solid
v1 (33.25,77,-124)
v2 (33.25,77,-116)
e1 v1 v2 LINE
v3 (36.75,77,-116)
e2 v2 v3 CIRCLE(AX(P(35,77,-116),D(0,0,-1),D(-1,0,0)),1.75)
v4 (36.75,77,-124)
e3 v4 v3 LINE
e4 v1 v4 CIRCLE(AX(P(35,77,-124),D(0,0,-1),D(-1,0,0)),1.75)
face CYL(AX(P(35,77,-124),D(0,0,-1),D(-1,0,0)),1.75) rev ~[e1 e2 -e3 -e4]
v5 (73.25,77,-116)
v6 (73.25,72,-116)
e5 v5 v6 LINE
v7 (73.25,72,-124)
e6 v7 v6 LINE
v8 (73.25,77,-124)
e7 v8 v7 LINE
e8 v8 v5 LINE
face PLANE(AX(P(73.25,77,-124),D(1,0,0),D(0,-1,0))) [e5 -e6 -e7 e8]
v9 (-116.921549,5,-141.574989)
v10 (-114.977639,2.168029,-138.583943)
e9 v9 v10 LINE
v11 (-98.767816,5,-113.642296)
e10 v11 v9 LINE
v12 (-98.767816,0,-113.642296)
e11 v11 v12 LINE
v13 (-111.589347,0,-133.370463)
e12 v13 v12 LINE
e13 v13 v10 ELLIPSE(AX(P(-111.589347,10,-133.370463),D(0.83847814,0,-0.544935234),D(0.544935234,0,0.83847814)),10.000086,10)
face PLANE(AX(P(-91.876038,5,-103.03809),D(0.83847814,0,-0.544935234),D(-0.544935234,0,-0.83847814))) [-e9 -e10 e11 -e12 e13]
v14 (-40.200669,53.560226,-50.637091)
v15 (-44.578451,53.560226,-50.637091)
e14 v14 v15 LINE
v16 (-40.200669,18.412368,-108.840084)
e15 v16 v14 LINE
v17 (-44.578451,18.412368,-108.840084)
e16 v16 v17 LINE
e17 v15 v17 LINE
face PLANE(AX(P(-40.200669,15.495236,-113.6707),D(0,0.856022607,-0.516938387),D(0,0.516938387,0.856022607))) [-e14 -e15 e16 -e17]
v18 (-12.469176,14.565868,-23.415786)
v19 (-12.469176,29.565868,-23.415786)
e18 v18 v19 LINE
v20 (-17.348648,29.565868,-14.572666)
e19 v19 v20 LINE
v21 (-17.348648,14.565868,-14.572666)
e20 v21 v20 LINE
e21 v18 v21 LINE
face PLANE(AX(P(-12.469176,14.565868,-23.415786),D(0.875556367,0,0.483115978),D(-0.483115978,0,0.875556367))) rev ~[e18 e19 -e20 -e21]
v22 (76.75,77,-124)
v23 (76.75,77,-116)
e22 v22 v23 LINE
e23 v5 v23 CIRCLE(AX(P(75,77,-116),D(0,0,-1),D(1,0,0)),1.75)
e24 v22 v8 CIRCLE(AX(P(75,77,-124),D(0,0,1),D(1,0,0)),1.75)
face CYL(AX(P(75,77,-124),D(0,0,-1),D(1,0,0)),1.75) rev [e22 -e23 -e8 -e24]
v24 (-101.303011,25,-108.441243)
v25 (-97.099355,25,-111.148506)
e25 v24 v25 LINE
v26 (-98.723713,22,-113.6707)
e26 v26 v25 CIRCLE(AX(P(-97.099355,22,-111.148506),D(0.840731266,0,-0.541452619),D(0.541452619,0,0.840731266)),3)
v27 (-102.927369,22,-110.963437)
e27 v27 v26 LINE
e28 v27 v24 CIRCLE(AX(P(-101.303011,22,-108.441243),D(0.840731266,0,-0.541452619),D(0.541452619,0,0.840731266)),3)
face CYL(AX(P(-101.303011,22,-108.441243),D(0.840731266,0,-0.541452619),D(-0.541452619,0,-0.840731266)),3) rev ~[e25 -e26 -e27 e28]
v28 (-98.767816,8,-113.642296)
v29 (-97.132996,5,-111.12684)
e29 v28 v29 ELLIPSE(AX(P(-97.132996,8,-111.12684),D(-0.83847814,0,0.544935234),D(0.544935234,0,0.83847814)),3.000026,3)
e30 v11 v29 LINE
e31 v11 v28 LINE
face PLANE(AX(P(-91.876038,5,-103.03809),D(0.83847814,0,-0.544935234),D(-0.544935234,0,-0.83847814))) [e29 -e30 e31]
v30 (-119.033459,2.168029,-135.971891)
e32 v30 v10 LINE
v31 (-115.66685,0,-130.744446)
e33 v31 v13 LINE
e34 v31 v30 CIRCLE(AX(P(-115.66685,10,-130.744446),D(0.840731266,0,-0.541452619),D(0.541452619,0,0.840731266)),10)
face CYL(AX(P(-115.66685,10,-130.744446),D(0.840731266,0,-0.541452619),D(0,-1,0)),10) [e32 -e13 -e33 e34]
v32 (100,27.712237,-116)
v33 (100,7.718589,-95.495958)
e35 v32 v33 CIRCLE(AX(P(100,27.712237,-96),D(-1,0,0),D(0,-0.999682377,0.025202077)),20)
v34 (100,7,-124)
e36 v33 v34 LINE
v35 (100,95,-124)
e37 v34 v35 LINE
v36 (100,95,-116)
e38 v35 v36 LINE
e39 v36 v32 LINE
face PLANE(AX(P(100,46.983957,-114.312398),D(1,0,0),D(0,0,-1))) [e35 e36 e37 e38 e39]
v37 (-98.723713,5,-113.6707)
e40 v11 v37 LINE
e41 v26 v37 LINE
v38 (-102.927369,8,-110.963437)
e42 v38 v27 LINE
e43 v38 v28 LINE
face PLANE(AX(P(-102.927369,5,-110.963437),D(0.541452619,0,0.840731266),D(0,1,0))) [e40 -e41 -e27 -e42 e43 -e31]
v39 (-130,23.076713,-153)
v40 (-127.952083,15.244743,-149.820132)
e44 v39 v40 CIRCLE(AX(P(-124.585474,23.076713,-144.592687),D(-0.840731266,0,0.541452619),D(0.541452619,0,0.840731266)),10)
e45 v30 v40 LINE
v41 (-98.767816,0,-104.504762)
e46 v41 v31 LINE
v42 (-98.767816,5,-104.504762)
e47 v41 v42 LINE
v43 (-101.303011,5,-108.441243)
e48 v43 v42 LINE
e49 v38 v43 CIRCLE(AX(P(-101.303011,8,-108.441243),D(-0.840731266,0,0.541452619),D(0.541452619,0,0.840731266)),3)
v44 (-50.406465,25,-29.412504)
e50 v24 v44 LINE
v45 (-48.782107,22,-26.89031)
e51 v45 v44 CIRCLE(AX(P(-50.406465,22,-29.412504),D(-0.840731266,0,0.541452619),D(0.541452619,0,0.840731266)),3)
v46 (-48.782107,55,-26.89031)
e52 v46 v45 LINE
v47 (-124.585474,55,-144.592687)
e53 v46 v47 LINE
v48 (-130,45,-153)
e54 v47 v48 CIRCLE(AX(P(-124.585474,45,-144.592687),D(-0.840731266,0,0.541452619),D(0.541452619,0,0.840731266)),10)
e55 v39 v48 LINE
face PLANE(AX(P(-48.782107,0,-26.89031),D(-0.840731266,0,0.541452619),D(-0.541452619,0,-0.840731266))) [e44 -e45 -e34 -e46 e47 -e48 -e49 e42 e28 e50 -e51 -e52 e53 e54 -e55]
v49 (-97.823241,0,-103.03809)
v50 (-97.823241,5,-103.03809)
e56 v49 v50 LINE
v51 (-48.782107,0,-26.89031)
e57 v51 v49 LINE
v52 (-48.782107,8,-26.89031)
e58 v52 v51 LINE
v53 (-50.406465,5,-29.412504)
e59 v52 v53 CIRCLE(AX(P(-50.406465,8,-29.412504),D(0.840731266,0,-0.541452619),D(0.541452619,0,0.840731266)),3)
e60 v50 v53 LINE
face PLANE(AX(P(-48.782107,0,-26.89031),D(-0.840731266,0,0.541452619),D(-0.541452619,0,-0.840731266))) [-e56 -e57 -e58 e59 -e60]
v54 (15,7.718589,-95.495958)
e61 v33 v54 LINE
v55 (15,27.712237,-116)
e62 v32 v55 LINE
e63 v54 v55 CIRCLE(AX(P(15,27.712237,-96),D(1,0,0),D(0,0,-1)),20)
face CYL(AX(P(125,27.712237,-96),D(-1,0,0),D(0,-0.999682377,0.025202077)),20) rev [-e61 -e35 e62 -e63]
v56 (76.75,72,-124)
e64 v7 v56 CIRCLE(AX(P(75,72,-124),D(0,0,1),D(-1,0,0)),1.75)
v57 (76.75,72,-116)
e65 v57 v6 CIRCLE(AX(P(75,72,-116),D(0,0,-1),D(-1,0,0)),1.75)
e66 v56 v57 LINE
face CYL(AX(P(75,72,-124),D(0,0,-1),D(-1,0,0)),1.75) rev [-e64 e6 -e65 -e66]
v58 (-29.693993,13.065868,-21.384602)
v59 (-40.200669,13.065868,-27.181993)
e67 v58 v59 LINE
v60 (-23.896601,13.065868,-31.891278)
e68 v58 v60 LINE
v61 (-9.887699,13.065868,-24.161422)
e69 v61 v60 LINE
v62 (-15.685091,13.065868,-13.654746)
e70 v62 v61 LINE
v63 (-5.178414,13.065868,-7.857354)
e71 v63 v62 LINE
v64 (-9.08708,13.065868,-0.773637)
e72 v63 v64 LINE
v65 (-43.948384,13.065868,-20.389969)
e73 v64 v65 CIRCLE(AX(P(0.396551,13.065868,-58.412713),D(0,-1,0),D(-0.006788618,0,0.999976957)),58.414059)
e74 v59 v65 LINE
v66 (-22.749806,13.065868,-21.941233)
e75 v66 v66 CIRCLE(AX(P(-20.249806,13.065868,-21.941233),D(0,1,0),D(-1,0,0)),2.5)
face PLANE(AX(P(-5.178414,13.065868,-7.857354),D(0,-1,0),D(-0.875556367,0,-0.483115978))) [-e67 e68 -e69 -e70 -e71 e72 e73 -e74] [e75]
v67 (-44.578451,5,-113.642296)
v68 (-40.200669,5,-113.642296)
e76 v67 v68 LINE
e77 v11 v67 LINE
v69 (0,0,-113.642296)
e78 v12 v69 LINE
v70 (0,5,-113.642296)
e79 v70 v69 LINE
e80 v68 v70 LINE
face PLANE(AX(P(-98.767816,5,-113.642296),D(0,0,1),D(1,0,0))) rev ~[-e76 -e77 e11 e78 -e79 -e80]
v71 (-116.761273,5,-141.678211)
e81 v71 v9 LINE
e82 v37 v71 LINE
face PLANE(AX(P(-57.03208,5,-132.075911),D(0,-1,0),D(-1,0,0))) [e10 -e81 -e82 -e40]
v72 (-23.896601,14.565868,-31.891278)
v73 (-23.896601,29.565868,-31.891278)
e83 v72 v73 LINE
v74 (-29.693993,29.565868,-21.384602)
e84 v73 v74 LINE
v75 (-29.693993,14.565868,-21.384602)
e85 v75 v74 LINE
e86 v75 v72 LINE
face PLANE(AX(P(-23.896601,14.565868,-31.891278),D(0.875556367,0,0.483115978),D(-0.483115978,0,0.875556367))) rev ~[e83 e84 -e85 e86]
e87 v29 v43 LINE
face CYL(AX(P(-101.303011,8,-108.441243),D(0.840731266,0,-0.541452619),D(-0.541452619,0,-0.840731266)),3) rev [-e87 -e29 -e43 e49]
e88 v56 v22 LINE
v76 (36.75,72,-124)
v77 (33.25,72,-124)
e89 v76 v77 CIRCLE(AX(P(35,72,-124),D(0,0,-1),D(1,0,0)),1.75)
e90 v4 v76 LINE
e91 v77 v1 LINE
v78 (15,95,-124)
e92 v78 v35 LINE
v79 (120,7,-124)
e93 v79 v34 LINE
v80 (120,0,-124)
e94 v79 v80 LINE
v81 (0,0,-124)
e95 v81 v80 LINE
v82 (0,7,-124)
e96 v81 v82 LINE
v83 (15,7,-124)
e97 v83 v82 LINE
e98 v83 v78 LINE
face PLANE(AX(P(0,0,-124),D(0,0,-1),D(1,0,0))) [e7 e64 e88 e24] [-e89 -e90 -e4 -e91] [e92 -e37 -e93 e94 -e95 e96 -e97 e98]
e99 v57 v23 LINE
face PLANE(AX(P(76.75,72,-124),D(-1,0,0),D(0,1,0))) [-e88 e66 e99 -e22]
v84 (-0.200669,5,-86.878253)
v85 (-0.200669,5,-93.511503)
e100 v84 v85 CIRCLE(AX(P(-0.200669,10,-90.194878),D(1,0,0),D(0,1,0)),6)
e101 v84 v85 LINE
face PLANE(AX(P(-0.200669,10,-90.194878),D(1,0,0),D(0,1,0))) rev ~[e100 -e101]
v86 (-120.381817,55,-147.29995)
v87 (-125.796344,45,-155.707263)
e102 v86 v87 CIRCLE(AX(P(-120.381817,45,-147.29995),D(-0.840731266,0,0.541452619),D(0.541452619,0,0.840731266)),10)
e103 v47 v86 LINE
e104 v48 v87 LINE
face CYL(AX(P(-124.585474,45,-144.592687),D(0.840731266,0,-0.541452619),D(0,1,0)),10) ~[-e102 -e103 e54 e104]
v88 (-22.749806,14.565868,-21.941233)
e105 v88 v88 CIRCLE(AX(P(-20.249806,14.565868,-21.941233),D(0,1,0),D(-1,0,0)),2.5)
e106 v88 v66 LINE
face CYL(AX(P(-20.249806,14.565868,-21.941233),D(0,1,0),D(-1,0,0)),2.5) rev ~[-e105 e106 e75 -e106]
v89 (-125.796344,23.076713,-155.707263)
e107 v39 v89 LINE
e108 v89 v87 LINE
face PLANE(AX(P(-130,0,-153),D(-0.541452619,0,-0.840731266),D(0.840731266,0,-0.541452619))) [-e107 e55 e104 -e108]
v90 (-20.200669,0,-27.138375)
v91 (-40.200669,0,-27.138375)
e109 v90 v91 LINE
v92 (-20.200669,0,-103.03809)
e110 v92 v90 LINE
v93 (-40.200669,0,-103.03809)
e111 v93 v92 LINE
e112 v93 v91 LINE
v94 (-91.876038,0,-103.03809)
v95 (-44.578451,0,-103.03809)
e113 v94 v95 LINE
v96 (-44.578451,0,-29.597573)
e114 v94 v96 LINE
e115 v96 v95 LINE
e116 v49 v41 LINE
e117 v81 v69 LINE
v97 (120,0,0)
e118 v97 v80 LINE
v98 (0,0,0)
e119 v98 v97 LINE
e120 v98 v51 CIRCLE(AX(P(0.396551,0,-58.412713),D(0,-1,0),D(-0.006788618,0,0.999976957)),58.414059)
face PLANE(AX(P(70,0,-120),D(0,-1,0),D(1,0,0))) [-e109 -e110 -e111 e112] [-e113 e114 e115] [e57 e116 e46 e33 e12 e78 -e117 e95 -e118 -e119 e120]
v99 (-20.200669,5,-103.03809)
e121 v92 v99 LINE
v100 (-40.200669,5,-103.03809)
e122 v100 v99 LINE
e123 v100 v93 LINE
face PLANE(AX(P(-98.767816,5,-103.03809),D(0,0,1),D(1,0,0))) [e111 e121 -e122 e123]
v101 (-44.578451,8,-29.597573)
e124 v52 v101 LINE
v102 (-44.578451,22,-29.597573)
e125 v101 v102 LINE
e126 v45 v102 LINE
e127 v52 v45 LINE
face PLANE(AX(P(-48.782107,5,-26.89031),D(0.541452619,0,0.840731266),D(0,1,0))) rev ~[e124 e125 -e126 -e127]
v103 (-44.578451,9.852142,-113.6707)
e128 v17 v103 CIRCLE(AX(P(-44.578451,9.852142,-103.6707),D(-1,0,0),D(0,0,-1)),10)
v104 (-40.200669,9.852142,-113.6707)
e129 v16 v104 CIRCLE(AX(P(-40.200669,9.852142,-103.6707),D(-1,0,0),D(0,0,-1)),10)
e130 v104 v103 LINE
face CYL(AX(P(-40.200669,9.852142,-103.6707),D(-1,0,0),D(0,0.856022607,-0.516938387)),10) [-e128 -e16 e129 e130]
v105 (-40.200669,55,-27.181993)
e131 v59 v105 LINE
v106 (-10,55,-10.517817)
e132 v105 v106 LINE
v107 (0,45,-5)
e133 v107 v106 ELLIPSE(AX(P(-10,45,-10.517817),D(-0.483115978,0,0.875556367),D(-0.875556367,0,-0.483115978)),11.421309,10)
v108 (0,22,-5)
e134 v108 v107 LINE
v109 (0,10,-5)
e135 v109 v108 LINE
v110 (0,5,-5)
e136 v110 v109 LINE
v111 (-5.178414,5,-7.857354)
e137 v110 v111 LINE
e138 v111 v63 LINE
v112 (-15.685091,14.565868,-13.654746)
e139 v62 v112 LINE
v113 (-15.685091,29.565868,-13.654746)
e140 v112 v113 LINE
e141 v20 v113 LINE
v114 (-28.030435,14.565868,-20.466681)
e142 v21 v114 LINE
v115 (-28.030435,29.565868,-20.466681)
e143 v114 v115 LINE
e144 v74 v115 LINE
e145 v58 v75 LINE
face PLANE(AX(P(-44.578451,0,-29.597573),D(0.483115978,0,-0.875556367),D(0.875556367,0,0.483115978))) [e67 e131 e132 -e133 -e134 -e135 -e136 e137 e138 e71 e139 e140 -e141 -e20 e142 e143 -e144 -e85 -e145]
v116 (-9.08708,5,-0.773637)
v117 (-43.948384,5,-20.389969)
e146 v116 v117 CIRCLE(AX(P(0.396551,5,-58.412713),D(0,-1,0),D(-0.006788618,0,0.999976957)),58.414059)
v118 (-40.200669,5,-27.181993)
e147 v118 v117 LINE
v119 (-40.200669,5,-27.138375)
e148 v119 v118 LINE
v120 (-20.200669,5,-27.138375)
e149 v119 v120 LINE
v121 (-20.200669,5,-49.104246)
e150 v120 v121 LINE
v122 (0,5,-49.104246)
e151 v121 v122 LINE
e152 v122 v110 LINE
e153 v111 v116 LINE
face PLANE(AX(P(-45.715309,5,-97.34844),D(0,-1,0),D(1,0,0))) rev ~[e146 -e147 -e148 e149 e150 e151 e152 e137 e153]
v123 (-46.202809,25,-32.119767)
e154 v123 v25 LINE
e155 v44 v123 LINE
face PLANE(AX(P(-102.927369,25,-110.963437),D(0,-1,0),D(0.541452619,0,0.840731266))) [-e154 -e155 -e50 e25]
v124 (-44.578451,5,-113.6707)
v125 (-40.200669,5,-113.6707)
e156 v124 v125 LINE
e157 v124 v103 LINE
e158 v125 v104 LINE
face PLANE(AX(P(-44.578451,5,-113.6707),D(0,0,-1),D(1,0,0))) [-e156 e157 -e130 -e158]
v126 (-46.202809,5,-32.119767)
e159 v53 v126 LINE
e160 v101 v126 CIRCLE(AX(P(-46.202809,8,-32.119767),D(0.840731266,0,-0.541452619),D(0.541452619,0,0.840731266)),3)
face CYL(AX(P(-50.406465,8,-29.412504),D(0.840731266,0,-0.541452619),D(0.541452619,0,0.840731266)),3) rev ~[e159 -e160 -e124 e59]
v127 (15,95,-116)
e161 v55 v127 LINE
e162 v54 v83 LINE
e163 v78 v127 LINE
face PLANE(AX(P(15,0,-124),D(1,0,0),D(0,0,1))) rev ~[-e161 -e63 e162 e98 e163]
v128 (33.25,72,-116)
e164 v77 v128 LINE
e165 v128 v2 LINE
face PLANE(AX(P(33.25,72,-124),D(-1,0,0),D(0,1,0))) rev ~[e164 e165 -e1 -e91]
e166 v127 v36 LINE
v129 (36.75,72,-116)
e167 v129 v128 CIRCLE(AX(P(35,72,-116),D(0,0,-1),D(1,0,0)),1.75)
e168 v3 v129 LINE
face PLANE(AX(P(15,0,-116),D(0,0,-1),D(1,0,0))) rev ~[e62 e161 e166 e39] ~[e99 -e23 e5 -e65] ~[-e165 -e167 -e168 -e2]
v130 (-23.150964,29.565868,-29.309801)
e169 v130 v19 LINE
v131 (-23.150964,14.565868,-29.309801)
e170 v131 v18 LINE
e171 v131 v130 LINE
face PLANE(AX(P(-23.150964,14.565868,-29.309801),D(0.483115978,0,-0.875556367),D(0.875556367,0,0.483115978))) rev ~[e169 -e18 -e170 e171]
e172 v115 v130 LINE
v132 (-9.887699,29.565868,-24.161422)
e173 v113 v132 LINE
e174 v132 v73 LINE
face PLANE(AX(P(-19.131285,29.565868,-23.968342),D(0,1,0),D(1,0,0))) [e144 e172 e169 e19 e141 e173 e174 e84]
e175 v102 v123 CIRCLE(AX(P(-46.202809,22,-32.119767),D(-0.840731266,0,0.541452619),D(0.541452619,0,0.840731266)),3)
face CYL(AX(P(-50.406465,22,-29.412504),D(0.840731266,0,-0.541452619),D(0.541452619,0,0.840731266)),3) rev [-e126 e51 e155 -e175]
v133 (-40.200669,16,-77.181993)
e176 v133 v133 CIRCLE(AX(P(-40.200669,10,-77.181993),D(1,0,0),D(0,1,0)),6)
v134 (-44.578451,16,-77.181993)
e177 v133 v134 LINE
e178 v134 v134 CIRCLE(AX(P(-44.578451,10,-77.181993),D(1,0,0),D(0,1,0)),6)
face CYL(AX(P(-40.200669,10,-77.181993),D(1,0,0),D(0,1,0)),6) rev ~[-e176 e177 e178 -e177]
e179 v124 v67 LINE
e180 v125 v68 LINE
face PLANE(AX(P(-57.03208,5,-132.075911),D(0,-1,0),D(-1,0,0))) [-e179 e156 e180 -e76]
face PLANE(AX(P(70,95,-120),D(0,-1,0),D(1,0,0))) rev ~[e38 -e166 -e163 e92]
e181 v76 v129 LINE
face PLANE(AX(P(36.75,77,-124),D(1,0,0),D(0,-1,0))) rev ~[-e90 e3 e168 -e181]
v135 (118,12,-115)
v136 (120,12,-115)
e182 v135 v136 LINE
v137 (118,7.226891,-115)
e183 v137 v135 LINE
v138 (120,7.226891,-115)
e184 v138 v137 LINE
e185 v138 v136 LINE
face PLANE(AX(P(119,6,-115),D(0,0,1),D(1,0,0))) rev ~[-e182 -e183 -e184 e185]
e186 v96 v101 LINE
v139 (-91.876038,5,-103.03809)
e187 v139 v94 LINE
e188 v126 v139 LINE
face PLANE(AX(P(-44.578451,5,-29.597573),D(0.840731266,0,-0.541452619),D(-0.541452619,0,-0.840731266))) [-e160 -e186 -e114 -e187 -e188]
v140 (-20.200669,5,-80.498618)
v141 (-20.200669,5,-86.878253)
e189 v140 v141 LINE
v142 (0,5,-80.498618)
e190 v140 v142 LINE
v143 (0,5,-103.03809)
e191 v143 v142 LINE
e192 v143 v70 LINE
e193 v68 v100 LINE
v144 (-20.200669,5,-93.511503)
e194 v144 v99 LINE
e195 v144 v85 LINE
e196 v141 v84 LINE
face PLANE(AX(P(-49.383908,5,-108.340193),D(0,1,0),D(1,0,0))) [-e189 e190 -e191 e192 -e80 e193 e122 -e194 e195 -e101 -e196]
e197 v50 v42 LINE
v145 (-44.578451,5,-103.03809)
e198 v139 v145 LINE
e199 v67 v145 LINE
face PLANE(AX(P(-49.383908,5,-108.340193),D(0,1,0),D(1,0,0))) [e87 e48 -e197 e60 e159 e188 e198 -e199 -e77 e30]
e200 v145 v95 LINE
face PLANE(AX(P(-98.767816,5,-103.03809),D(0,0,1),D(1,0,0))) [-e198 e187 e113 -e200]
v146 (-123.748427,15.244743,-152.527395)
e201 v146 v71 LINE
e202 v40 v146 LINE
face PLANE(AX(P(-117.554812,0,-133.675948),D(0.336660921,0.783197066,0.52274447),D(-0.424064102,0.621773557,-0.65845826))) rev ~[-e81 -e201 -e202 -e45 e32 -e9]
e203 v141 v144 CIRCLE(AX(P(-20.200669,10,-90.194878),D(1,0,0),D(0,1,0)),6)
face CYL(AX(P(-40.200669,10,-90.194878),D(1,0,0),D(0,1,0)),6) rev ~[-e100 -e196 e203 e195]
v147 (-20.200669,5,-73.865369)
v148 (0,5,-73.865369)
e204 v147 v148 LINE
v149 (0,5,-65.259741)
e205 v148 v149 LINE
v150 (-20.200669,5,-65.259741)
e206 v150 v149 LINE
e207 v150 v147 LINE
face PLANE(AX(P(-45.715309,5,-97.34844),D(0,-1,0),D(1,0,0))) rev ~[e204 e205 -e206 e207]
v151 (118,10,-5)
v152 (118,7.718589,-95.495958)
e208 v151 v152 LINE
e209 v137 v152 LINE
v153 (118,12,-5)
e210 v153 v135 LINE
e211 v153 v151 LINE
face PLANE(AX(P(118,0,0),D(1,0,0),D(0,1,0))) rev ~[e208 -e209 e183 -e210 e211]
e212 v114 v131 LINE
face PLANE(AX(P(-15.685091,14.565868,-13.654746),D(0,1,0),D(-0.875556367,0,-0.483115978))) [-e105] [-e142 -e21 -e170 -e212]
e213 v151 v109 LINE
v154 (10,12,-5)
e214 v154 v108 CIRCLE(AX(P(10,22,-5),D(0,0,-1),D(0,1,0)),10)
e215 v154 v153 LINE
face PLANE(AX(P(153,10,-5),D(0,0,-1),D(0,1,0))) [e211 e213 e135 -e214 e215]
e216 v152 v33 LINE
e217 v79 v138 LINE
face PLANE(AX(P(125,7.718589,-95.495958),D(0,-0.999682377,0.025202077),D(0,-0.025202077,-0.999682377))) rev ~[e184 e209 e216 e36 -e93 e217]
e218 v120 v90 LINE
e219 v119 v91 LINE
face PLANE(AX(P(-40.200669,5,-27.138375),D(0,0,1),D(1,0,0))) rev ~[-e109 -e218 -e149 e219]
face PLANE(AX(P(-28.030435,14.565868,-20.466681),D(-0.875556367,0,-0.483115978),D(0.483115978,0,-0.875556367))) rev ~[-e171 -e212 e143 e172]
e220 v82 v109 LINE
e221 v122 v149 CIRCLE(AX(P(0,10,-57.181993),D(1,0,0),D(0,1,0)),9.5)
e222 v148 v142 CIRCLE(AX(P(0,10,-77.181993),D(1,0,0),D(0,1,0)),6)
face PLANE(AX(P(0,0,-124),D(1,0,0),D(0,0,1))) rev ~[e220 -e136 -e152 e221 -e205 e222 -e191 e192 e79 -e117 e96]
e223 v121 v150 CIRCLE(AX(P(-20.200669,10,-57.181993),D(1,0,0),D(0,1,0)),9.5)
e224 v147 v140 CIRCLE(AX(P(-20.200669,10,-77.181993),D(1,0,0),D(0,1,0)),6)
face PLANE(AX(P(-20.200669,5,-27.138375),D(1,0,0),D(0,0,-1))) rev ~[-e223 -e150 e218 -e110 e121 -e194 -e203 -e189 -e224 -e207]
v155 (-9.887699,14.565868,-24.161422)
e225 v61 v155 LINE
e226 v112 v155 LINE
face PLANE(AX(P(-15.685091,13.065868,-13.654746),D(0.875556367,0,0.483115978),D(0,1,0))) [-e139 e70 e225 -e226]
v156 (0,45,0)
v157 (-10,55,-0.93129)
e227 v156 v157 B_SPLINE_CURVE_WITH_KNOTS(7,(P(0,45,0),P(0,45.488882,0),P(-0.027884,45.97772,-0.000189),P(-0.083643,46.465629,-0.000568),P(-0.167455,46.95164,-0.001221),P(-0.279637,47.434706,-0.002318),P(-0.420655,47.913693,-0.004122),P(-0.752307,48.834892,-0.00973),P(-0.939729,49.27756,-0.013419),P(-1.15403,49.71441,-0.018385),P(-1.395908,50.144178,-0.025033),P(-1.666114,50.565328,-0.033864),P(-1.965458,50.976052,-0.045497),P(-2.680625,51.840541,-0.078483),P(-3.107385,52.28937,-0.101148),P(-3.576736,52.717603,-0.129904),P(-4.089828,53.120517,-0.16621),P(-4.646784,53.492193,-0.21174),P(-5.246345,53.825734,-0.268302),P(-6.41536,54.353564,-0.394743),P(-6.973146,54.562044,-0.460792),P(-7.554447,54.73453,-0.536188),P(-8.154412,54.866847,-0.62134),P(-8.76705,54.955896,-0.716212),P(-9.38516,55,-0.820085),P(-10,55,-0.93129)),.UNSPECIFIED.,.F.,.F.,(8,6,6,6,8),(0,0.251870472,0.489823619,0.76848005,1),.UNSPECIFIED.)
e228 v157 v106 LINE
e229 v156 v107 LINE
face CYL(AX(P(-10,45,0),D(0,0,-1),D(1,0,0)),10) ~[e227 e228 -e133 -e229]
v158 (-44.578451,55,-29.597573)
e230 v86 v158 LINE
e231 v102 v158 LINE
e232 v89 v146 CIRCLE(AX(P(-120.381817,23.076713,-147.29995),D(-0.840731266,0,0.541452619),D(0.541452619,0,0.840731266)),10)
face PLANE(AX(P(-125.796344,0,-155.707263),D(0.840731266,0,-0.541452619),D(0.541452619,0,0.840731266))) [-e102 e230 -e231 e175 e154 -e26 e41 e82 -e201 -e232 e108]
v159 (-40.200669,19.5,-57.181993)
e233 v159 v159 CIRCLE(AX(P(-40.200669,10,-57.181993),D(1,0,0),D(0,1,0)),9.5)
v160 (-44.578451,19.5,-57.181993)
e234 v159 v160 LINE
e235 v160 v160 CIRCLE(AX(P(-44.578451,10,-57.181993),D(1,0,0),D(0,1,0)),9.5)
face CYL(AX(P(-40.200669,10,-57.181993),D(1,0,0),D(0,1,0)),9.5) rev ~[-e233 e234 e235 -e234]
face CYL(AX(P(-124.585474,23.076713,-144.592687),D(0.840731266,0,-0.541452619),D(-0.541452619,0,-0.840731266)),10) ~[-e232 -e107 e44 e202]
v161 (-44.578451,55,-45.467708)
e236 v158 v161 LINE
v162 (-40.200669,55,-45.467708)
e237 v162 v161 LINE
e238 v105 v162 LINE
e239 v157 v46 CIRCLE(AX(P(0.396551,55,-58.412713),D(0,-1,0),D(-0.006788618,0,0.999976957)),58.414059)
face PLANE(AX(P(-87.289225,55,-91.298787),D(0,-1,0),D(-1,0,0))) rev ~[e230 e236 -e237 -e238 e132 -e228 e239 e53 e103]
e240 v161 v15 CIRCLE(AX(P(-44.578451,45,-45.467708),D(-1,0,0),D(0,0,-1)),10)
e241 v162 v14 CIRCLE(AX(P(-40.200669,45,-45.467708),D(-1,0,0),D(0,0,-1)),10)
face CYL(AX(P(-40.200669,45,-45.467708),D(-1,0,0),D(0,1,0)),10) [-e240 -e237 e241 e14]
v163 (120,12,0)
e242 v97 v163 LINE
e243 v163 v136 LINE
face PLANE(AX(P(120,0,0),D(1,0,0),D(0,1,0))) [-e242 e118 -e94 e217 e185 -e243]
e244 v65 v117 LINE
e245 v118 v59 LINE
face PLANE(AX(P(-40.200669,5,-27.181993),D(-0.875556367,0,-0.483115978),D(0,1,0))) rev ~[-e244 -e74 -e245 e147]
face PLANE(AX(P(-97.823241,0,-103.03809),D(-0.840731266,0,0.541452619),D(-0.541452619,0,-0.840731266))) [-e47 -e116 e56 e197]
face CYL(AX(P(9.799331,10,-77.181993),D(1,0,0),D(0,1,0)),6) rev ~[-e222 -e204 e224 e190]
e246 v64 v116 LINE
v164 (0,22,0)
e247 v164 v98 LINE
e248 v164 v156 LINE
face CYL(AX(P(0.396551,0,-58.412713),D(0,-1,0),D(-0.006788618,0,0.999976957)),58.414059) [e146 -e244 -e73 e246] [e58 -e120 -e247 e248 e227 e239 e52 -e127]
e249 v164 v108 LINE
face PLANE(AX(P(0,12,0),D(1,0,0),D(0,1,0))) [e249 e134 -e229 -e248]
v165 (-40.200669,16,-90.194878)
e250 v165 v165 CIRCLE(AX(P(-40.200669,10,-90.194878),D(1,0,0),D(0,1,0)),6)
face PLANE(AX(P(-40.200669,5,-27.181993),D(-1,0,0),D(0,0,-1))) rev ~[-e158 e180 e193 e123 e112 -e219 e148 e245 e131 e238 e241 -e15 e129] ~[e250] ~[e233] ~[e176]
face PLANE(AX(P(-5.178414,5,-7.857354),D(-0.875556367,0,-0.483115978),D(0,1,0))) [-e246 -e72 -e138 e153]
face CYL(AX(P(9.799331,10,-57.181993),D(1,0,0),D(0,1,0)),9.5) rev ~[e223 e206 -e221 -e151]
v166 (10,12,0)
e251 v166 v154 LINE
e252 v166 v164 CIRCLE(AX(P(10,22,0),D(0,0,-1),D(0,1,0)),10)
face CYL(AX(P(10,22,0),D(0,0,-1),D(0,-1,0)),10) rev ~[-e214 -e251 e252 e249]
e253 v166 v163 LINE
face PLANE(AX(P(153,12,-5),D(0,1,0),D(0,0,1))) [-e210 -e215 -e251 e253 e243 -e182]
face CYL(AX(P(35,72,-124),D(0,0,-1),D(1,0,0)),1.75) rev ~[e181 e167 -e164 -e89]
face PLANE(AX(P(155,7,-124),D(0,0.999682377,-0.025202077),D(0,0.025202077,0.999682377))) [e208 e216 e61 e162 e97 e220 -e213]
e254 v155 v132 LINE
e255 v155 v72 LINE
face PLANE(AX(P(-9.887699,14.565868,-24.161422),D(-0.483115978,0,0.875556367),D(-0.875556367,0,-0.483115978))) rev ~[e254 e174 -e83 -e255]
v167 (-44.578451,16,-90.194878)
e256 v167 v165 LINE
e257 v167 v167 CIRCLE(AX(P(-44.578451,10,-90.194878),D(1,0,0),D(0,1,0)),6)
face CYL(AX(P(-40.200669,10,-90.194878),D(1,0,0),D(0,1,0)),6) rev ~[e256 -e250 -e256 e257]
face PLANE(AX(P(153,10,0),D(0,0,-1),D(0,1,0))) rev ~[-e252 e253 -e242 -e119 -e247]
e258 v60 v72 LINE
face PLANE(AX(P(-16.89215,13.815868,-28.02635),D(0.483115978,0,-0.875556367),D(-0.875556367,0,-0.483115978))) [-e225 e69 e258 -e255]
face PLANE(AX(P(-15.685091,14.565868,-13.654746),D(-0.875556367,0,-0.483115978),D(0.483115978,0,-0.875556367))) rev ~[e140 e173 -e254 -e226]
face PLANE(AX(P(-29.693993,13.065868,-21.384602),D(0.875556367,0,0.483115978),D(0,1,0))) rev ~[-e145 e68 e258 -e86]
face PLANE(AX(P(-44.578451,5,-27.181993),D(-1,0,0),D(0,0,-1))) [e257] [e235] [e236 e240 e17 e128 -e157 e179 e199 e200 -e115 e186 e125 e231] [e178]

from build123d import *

# Parameters (mm, degrees)
SKETCH1_W            = 155
SKETCH1_H            = 5
BOSS_EXTRUDE2_DEPTH  = 55
SKETCH2_W            = 112
SKETCH2_H            = 45
SKETCH2_R            = 1.75
CUT_EXTRUDE1_DEPTH   = 55
SKETCH3_W            = 100
SKETCH3_H            = 20
CUT_EXTRUDE2_DEPTH   = 55
SKETCH4_W            = 40
SKETCH4_H            = 8.065867699
CUT_EXTRUDE3_DEPTH   = 55
BOSS_EXTRUDE4_DEPTH  = 5
CUT_EXTRUDE4_DEPTH   = 50
SKETCH9_W            = 4.377781836
SKETCH9_H            = 86.488706471
BOSS_EXTRUDE7_DEPTH  = 50
SKETCH10_W           = 20
SKETCH10_H           = 86.532324722
CUT_EXTRUDE5_DEPTH   = 10
SKETCH12_R           = 9.5
SKETCH12_R_2         = 6
CUT_EXTRUDE6_DEPTH   = 10
CUT_EXTRUDE7_START   = 50
SKETCH13_R           = 9.5
SKETCH13_R_2         = 6
CUT_EXTRUDE7_DEPTH   = 50
CUT_EXTRUDE8_DEPTH   = 50
CUT_EXTRUDE9_DEPTH   = 50
CUT_EXTRUDE10_DEPTH  = 10
FILLET5_R            = 3
SKETCH18_W           = 98.767816147
SKETCH18_H           = 10.604205858
BOSS_EXTRUDE8_DEPTH  = 5
CUT_EXTRUDE11_DEPTH  = 5
SKETCH20_W           = 155
SKETCH20_H           = 119
BOSS_EXTRUDE9_DEPTH  = 10
CUT_EXTRUDE13_DEPTH  = 155
SKETCH24_W           = 110
SKETCH24_H           = 8
BOSS_EXTRUDE10_DEPTH = 95
FILLET6_R            = 20
SKETCH26_W           = 16
SKETCH26_H           = 1.5
BOSS_EXTRUDE11_DEPTH = 12
BOSS_EXTRUDE12_DEPTH = 15
SKETCH28_R           = 2.5
CUT_EXTRUDE15_DEPTH  = 5
CUT_EXTRUDE17_DEPTH  = 35
SKETCH29_W           = 43
SKETCH29_H           = 43
CUT_EXTRUDE18_DEPTH  = 35
FILLET9_R            = 10
SKETCH31_W           = 124
SKETCH31_H           = 12
BOSS_EXTRUDE14_DEPTH = 2
SKETCH32_W           = 5
SKETCH32_H           = 2
BOSS_EXTRUDE15_DEPTH = 132
SKETCH33_W           = 20
SKETCH33_H           = 12
CUT_EXTRUDE19_DEPTH  = 160
SKETCH34_W           = 2
SKETCH34_H           = 12
BOSS_EXTRUDE17_DEPTH = 123
SKETCH36_R           = 6
CUT_EXTRUDE20_DEPTH  = 40
CUT_EXTRUDE21_DEPTH  = 25
SKETCH39_W           = 15
SKETCH39_H           = 12
CUT_EXTRUDE22_DEPTH  = 165
FILLET10_R           = 10
SKETCH40_W           = 2
SKETCH40_H           = 12
BOSS_EXTRUDE18_DEPTH = 115


with BuildPart() as part:
    # Sketch1 → Boss-Extrude2 (new body)
    with BuildSketch(Plane(origin=(0, 0, 0), x_dir=(1, 0, 0), z_dir=(0, 1, 0))):
        Polygon((-44.578450817, 29.59757322), (-48.782107146, 26.890310125), (-130, 153), (-125.796343671, 155.707263095), align=None)
        with BuildLine():
            ThreePointArc((0, 0), (-27.802696096, 7.256044178), (-48.782107146, 26.890310125))
            Line((-48.782107146, 26.890310125), (-44.578450817, 29.59757322))
            Line((-44.578450817, 29.59757322), (0, 5))
            Line((0, 5), (0, 0))
        make_face()
        with Locations((77.5, 2.5)):
            Rectangle(SKETCH1_W, SKETCH1_H)
    extrude(amount=BOSS_EXTRUDE2_DEPTH)

    # Sketch2 → Cut-Extrude1 (cut)
    with BuildSketch(Plane.XY):
        with Locations((99, 32.5)):
            Rectangle(SKETCH2_W, SKETCH2_H)
        with Locations((5, 25)):
            Circle(SKETCH2_R)
        with Locations((5, 50)):
            Circle(SKETCH2_R)
        with Locations((35, 50)):
            Circle(SKETCH2_R)
        with Locations((35, 25)):
            Circle(SKETCH2_R)
    extrude(amount=-CUT_EXTRUDE1_DEPTH, mode=Mode.SUBTRACT)

    # Sketch3 → Cut-Extrude2 (cut)
    with BuildSketch(Plane(origin=(-22.239707671, 0, 14.322945338), x_dir=(0.5414526190246729, 0, 0.840731265834287), z_dir=(-0.8407312658342869, 0, 0.5414526190246728))):
        with Locations((-99.020724146, 15)):
            Rectangle(SKETCH3_W, SKETCH3_H)
    extrude(amount=-CUT_EXTRUDE2_DEPTH, mode=Mode.SUBTRACT)

    # Sketch4 → Cut-Extrude3 (cut)
    with BuildSketch(Plane(origin=(2.114976352, 0, -3.832994761), x_dir=(-0.8755563671808256, 0, -0.48311597767939257), z_dir=(0.48311597767939257, 0, -0.8755563671808256))):
        with Locations((28.330006975, 9.03293385)):
            Rectangle(SKETCH4_W, SKETCH4_H)
    extrude(amount=-CUT_EXTRUDE3_DEPTH, mode=Mode.SUBTRACT)

    # Sketch5 → Boss-Extrude4 (add)
    with BuildSketch(Plane.XZ):
        Polygon((0, -5), (-44.578450817, -29.59757322), (-125.796343671, -155.707263095), (0, -155.707263095), align=None)
    extrude(amount=-BOSS_EXTRUDE4_DEPTH)

    # Sketch8 → Cut-Extrude4 (cut)
    with BuildSketch(Plane(origin=(0, 5, 0), x_dir=(1, 0, 0), z_dir=(0, 1, 0))):
        Polygon((-44.578450817, 29.59757322), (-98.72371272, 113.670699803), (-44.578450817, 113.670699803), align=None)
    extrude(amount=-CUT_EXTRUDE4_DEPTH, mode=Mode.SUBTRACT)

    # Sketch9 → Boss-Extrude7 (add)
    with BuildSketch(Plane(origin=(0, 5, 0), x_dir=(1, 0, 0), z_dir=(0, 1, 0))):
        with Locations((-42.389559899, 70.426346568)):
            Rectangle(SKETCH9_W, SKETCH9_H)
    extrude(amount=BOSS_EXTRUDE7_DEPTH)

    # Sketch10 → Cut-Extrude5 (cut)
    with BuildSketch(Plane(origin=(0, 5, 0), x_dir=(1, 0, 0), z_dir=(0, 1, 0))):
        with Locations((-30.200668981, 70.404537442)):
            Rectangle(SKETCH10_W, SKETCH10_H)
    extrude(amount=-CUT_EXTRUDE5_DEPTH, mode=Mode.SUBTRACT)

    # Sketch12 → Cut-Extrude6 (cut)
    with BuildSketch(Plane(origin=(-40.200668981, 0, 0), x_dir=(0, 0, -1), z_dir=(1, 0, 0))):
        with Locations(Location((57.181993332, 10, 0), (0, 0, 90))):
            Circle(SKETCH12_R)
        with Locations(Location((77.181993332, 10, 0), (0, 0, 90))):
            Circle(SKETCH12_R_2)
    extrude(amount=-CUT_EXTRUDE6_DEPTH, mode=Mode.SUBTRACT)

    # Sketch13 → Cut-Extrude7 (cut)
    with BuildSketch(Plane(origin=(-40.200668981, 0, 0), x_dir=(0, 0, -1), z_dir=(1, 0, 0)).offset(CUT_EXTRUDE7_START)):
        with Locations(Location((57.181993332, 10, 0), (0, 0, 90))):
            Circle(SKETCH13_R)
        with Locations(Location((77.181993332, 10, 0), (0, 0, 90))):
            Circle(SKETCH13_R_2)
    extrude(amount=-CUT_EXTRUDE7_DEPTH, mode=Mode.SUBTRACT)

    # Sketch14 → Cut-Extrude8 (cut)
    with BuildSketch(Plane(origin=(0, 5, 0), x_dir=(1, 0, 0), z_dir=(0, 1, 0))):
        Polygon((0, 103.038090201), (-91.876037903, 103.038090201), (-126.106254173, 155.707263095), (0, 155.707263095), align=None)
    extrude(amount=-CUT_EXTRUDE8_DEPTH, mode=Mode.SUBTRACT)

    # Sketch15 → Cut-Extrude9 (cut)
    with BuildSketch(Plane(origin=(-22.239707671, 0, 14.322945338), x_dir=(0.5414526190246729, 0, 0.840731265834287), z_dir=(-0.8407312658342869, 0, 0.5414526190246728))):
        Polygon((-176.035909688, 0), (-199.020724146, 18.247450711), (-199.020724146, 0), align=None)
    extrude(amount=-CUT_EXTRUDE9_DEPTH, mode=Mode.SUBTRACT)

    # Sketch16 → Cut-Extrude10 (cut)
    with BuildSketch(Plane(origin=(-40.200668981, 0, 0), x_dir=(0, 0, -1), z_dir=(1, 0, 0))):
        Polygon((113.670699803, 15.495236251), (48.252901996, 55), (113.670699803, 55), align=None)
    extrude(amount=-CUT_EXTRUDE10_DEPTH, mode=Mode.SUBTRACT)

    # Fillet5
    fillet5_edges = [part.edges().sort_by_distance(p)[0] for p in [
        (-100.847592598, 5, -112.302866383),
        (-46.680278982, 25, -28.243941672),
        (-46.680278982, 5, -28.243941672),
        (-100.825540884, 25, -112.317068256),
    ]]
    fillet(fillet5_edges, radius=FILLET5_R)

    # Sketch18 → Boss-Extrude8 (add)
    with BuildSketch(Plane(origin=(0, 5, 0), x_dir=(1, 0, 0), z_dir=(0, 1, 0))):
        with Locations((-49.383908074, 108.34019313)):
            Rectangle(SKETCH18_W, SKETCH18_H)
    extrude(amount=-BOSS_EXTRUDE8_DEPTH)

    # Sketch19 → Cut-Extrude11 (cut)
    with BuildSketch(Plane.XZ):
        Polygon((-97.82324149, -103.038090201), (-98.767816147, -104.504762295), (-98.767816147, -103.038090201), align=None)
    extrude(amount=-CUT_EXTRUDE11_DEPTH, mode=Mode.SUBTRACT)

    # Sketch20 → Boss-Extrude9 (add)
    with BuildSketch(Plane.XZ):
        with Locations((77.5, -64.5)):
            Rectangle(SKETCH20_W, SKETCH20_H)
    extrude(amount=-BOSS_EXTRUDE9_DEPTH)

    # Sketch21 → Cut-Extrude13 (cut)
    with BuildSketch(Plane(origin=(155, 0, 0), x_dir=(0, 0, -1), z_dir=(1, 0, 0))):
        Polygon((5, 10), (124, 10), (124, 7), align=None)
    extrude(amount=-CUT_EXTRUDE13_DEPTH, mode=Mode.SUBTRACT)

    # Sketch24 → Boss-Extrude10 (add)
    with BuildSketch(Plane.XZ):
        with Locations((70, -120)):
            Rectangle(SKETCH24_W, SKETCH24_H)
    extrude(amount=-BOSS_EXTRUDE10_DEPTH)

    # Fillet6
    fillet6_edges = [part.edges().sort_by_distance(p)[0] for p in [
        (70, 7.201680672, -116),
    ]]
    fillet(fillet6_edges, radius=FILLET6_R)

    # Sketch26 → Boss-Extrude11 (add)
    with BuildSketch(Plane(origin=(2.114976352, 0, -3.832994761), x_dir=(-0.8755563671808256, 0, -0.48311597767939257), z_dir=(0.48311597767939257, 0, -0.8755563671808256))):
        with Locations((28.330006975, 13.815867699)):
            Rectangle(SKETCH26_W, SKETCH26_H)
    extrude(amount=BOSS_EXTRUDE11_DEPTH)

    # Sketch27 → Boss-Extrude12 (add)
    with BuildSketch(Plane(origin=(0, 14.565867699, 0), x_dir=(1, 0, 0), z_dir=(0, 1, 0))):
        Polygon((-15.6850907, 13.654745957), (-9.887698968, 24.161422363), (-23.896600843, 31.891278006), (-29.693992575, 21.384601599), (-28.030435477, 20.466681242), (-23.150964103, 29.30980055), (-12.469176423, 23.415785623), (-17.348647798, 14.572666314), align=None)
    extrude(amount=BOSS_EXTRUDE12_DEPTH)

    # Sketch28 → Cut-Extrude15 (cut)
    with BuildSketch(Plane(origin=(0, 14.565867699, 0), x_dir=(1, 0, 0), z_dir=(0, 1, 0))):
        with Locations(Location((-20.24980595, 21.941233432, 0), (0, 0, 180))):
            Circle(SKETCH28_R)
    extrude(amount=-CUT_EXTRUDE15_DEPTH, mode=Mode.SUBTRACT)

    # Sketch25 → Cut-Extrude17 (cut)
    with BuildSketch(Plane(origin=(0, 0, -124), x_dir=(-1, 0, 0), z_dir=(0, 0, -1))):
        with BuildLine():
            Line((-36.75, 77), (-36.75, 72))
            ThreePointArc((-36.75, 72), (-35, 70.25), (-33.25, 72))
            Line((-33.25, 72), (-33.25, 77))
            ThreePointArc((-33.25, 77), (-35, 78.75), (-36.75, 77))
        make_face()
        with BuildLine():
            Line((-73.25, 77), (-73.25, 72))
            ThreePointArc((-73.25, 72), (-75, 70.25), (-76.75, 72))
            Line((-76.75, 72), (-76.75, 77))
            ThreePointArc((-76.75, 77), (-75, 78.75), (-73.25, 77))
        make_face()
    extrude(amount=-CUT_EXTRUDE17_DEPTH, mode=Mode.SUBTRACT)

    # Sketch29 → Cut-Extrude18 (cut)
    with BuildSketch(Plane.XY):
        with Locations((21.5, 33.5)):
            Rectangle(SKETCH29_W, SKETCH29_H)
    extrude(amount=-CUT_EXTRUDE18_DEPTH, mode=Mode.SUBTRACT)

    # Fillet9
    fillet9_edges = [part.edges().sort_by_distance(p)[0] for p in [
        (-115.522140631, 0, -134.985040643),
        (-127.898171835, 18.247450711, -154.353631548),
        (-42.389559899, 15.495236251, -113.670699803),
        (-42.389559899, 55, -48.252901996),
        (-127.898171835, 55, -154.353631548),
    ]]
    fillet(fillet9_edges, radius=FILLET9_R)

    # Sketch31 → Boss-Extrude14 (add)
    with BuildSketch(Plane(origin=(155, 0, 0), x_dir=(0, 0, -1), z_dir=(1, 0, 0))):
        with Locations((62, 6)):
            Rectangle(SKETCH31_W, SKETCH31_H)
    extrude(amount=-BOSS_EXTRUDE14_DEPTH)

    # Sketch32 → Boss-Extrude15 (add)
    with BuildSketch(Plane.ZY.offset(-153)):
        with Locations((-2.5, 11)):
            Rectangle(SKETCH32_W, SKETCH32_H)
    extrude(amount=BOSS_EXTRUDE15_DEPTH)

    # Sketch33 → Cut-Extrude19 (cut)
    with BuildSketch(Plane.XY):
        with Locations((145, 6)):
            Rectangle(SKETCH33_W, SKETCH33_H)
    extrude(amount=-CUT_EXTRUDE19_DEPTH, mode=Mode.SUBTRACT)

    # Sketch34 → Boss-Extrude17 (add)
    with BuildSketch(Plane.XY):
        with Locations((134, 6)):
            Rectangle(SKETCH34_W, SKETCH34_H)
    extrude(amount=-BOSS_EXTRUDE17_DEPTH)

    # Sketch36 → Cut-Extrude20 (cut, symmetric)
    with BuildSketch(Plane(origin=(-40.200668981, 0, 0), x_dir=(0, 0, -1), z_dir=(1, 0, 0))):
        with Locations(Location((90.194878088, 10, 0), (0, 0, 90))):
            Circle(SKETCH36_R)
    extrude(amount=CUT_EXTRUDE20_DEPTH, both=True, mode=Mode.SUBTRACT)

    # Sketch38 → Cut-Extrude21 (cut)
    with BuildSketch(Plane(origin=(125, 0, 0), x_dir=(0, 0, -1), z_dir=(1, 0, 0))):
        Polygon((95.495958465, 7.718589282), (124, 7), (124, 95), (116, 95), align=None)
    extrude(amount=-CUT_EXTRUDE21_DEPTH, mode=Mode.SUBTRACT)

    # Sketch39 → Cut-Extrude22 (cut)
    with BuildSketch(Plane.XY):
        with Locations((127.5, 6)):
            Rectangle(SKETCH39_W, SKETCH39_H)
    extrude(amount=-CUT_EXTRUDE22_DEPTH, mode=Mode.SUBTRACT)

    # Fillet10
    fillet10_edges = [part.edges().sort_by_distance(p)[0] for p in [
        (0, 12, -2.5),
        (0, 55, -2.5),
    ]]
    fillet(fillet10_edges, radius=FILLET10_R)

    # Sketch40 → Boss-Extrude18 (add)
    with BuildSketch(Plane.XY):
        with Locations((119, 6)):
            Rectangle(SKETCH40_W, SKETCH40_H)
    extrude(amount=-BOSS_EXTRUDE18_DEPTH)


solid = part.part
